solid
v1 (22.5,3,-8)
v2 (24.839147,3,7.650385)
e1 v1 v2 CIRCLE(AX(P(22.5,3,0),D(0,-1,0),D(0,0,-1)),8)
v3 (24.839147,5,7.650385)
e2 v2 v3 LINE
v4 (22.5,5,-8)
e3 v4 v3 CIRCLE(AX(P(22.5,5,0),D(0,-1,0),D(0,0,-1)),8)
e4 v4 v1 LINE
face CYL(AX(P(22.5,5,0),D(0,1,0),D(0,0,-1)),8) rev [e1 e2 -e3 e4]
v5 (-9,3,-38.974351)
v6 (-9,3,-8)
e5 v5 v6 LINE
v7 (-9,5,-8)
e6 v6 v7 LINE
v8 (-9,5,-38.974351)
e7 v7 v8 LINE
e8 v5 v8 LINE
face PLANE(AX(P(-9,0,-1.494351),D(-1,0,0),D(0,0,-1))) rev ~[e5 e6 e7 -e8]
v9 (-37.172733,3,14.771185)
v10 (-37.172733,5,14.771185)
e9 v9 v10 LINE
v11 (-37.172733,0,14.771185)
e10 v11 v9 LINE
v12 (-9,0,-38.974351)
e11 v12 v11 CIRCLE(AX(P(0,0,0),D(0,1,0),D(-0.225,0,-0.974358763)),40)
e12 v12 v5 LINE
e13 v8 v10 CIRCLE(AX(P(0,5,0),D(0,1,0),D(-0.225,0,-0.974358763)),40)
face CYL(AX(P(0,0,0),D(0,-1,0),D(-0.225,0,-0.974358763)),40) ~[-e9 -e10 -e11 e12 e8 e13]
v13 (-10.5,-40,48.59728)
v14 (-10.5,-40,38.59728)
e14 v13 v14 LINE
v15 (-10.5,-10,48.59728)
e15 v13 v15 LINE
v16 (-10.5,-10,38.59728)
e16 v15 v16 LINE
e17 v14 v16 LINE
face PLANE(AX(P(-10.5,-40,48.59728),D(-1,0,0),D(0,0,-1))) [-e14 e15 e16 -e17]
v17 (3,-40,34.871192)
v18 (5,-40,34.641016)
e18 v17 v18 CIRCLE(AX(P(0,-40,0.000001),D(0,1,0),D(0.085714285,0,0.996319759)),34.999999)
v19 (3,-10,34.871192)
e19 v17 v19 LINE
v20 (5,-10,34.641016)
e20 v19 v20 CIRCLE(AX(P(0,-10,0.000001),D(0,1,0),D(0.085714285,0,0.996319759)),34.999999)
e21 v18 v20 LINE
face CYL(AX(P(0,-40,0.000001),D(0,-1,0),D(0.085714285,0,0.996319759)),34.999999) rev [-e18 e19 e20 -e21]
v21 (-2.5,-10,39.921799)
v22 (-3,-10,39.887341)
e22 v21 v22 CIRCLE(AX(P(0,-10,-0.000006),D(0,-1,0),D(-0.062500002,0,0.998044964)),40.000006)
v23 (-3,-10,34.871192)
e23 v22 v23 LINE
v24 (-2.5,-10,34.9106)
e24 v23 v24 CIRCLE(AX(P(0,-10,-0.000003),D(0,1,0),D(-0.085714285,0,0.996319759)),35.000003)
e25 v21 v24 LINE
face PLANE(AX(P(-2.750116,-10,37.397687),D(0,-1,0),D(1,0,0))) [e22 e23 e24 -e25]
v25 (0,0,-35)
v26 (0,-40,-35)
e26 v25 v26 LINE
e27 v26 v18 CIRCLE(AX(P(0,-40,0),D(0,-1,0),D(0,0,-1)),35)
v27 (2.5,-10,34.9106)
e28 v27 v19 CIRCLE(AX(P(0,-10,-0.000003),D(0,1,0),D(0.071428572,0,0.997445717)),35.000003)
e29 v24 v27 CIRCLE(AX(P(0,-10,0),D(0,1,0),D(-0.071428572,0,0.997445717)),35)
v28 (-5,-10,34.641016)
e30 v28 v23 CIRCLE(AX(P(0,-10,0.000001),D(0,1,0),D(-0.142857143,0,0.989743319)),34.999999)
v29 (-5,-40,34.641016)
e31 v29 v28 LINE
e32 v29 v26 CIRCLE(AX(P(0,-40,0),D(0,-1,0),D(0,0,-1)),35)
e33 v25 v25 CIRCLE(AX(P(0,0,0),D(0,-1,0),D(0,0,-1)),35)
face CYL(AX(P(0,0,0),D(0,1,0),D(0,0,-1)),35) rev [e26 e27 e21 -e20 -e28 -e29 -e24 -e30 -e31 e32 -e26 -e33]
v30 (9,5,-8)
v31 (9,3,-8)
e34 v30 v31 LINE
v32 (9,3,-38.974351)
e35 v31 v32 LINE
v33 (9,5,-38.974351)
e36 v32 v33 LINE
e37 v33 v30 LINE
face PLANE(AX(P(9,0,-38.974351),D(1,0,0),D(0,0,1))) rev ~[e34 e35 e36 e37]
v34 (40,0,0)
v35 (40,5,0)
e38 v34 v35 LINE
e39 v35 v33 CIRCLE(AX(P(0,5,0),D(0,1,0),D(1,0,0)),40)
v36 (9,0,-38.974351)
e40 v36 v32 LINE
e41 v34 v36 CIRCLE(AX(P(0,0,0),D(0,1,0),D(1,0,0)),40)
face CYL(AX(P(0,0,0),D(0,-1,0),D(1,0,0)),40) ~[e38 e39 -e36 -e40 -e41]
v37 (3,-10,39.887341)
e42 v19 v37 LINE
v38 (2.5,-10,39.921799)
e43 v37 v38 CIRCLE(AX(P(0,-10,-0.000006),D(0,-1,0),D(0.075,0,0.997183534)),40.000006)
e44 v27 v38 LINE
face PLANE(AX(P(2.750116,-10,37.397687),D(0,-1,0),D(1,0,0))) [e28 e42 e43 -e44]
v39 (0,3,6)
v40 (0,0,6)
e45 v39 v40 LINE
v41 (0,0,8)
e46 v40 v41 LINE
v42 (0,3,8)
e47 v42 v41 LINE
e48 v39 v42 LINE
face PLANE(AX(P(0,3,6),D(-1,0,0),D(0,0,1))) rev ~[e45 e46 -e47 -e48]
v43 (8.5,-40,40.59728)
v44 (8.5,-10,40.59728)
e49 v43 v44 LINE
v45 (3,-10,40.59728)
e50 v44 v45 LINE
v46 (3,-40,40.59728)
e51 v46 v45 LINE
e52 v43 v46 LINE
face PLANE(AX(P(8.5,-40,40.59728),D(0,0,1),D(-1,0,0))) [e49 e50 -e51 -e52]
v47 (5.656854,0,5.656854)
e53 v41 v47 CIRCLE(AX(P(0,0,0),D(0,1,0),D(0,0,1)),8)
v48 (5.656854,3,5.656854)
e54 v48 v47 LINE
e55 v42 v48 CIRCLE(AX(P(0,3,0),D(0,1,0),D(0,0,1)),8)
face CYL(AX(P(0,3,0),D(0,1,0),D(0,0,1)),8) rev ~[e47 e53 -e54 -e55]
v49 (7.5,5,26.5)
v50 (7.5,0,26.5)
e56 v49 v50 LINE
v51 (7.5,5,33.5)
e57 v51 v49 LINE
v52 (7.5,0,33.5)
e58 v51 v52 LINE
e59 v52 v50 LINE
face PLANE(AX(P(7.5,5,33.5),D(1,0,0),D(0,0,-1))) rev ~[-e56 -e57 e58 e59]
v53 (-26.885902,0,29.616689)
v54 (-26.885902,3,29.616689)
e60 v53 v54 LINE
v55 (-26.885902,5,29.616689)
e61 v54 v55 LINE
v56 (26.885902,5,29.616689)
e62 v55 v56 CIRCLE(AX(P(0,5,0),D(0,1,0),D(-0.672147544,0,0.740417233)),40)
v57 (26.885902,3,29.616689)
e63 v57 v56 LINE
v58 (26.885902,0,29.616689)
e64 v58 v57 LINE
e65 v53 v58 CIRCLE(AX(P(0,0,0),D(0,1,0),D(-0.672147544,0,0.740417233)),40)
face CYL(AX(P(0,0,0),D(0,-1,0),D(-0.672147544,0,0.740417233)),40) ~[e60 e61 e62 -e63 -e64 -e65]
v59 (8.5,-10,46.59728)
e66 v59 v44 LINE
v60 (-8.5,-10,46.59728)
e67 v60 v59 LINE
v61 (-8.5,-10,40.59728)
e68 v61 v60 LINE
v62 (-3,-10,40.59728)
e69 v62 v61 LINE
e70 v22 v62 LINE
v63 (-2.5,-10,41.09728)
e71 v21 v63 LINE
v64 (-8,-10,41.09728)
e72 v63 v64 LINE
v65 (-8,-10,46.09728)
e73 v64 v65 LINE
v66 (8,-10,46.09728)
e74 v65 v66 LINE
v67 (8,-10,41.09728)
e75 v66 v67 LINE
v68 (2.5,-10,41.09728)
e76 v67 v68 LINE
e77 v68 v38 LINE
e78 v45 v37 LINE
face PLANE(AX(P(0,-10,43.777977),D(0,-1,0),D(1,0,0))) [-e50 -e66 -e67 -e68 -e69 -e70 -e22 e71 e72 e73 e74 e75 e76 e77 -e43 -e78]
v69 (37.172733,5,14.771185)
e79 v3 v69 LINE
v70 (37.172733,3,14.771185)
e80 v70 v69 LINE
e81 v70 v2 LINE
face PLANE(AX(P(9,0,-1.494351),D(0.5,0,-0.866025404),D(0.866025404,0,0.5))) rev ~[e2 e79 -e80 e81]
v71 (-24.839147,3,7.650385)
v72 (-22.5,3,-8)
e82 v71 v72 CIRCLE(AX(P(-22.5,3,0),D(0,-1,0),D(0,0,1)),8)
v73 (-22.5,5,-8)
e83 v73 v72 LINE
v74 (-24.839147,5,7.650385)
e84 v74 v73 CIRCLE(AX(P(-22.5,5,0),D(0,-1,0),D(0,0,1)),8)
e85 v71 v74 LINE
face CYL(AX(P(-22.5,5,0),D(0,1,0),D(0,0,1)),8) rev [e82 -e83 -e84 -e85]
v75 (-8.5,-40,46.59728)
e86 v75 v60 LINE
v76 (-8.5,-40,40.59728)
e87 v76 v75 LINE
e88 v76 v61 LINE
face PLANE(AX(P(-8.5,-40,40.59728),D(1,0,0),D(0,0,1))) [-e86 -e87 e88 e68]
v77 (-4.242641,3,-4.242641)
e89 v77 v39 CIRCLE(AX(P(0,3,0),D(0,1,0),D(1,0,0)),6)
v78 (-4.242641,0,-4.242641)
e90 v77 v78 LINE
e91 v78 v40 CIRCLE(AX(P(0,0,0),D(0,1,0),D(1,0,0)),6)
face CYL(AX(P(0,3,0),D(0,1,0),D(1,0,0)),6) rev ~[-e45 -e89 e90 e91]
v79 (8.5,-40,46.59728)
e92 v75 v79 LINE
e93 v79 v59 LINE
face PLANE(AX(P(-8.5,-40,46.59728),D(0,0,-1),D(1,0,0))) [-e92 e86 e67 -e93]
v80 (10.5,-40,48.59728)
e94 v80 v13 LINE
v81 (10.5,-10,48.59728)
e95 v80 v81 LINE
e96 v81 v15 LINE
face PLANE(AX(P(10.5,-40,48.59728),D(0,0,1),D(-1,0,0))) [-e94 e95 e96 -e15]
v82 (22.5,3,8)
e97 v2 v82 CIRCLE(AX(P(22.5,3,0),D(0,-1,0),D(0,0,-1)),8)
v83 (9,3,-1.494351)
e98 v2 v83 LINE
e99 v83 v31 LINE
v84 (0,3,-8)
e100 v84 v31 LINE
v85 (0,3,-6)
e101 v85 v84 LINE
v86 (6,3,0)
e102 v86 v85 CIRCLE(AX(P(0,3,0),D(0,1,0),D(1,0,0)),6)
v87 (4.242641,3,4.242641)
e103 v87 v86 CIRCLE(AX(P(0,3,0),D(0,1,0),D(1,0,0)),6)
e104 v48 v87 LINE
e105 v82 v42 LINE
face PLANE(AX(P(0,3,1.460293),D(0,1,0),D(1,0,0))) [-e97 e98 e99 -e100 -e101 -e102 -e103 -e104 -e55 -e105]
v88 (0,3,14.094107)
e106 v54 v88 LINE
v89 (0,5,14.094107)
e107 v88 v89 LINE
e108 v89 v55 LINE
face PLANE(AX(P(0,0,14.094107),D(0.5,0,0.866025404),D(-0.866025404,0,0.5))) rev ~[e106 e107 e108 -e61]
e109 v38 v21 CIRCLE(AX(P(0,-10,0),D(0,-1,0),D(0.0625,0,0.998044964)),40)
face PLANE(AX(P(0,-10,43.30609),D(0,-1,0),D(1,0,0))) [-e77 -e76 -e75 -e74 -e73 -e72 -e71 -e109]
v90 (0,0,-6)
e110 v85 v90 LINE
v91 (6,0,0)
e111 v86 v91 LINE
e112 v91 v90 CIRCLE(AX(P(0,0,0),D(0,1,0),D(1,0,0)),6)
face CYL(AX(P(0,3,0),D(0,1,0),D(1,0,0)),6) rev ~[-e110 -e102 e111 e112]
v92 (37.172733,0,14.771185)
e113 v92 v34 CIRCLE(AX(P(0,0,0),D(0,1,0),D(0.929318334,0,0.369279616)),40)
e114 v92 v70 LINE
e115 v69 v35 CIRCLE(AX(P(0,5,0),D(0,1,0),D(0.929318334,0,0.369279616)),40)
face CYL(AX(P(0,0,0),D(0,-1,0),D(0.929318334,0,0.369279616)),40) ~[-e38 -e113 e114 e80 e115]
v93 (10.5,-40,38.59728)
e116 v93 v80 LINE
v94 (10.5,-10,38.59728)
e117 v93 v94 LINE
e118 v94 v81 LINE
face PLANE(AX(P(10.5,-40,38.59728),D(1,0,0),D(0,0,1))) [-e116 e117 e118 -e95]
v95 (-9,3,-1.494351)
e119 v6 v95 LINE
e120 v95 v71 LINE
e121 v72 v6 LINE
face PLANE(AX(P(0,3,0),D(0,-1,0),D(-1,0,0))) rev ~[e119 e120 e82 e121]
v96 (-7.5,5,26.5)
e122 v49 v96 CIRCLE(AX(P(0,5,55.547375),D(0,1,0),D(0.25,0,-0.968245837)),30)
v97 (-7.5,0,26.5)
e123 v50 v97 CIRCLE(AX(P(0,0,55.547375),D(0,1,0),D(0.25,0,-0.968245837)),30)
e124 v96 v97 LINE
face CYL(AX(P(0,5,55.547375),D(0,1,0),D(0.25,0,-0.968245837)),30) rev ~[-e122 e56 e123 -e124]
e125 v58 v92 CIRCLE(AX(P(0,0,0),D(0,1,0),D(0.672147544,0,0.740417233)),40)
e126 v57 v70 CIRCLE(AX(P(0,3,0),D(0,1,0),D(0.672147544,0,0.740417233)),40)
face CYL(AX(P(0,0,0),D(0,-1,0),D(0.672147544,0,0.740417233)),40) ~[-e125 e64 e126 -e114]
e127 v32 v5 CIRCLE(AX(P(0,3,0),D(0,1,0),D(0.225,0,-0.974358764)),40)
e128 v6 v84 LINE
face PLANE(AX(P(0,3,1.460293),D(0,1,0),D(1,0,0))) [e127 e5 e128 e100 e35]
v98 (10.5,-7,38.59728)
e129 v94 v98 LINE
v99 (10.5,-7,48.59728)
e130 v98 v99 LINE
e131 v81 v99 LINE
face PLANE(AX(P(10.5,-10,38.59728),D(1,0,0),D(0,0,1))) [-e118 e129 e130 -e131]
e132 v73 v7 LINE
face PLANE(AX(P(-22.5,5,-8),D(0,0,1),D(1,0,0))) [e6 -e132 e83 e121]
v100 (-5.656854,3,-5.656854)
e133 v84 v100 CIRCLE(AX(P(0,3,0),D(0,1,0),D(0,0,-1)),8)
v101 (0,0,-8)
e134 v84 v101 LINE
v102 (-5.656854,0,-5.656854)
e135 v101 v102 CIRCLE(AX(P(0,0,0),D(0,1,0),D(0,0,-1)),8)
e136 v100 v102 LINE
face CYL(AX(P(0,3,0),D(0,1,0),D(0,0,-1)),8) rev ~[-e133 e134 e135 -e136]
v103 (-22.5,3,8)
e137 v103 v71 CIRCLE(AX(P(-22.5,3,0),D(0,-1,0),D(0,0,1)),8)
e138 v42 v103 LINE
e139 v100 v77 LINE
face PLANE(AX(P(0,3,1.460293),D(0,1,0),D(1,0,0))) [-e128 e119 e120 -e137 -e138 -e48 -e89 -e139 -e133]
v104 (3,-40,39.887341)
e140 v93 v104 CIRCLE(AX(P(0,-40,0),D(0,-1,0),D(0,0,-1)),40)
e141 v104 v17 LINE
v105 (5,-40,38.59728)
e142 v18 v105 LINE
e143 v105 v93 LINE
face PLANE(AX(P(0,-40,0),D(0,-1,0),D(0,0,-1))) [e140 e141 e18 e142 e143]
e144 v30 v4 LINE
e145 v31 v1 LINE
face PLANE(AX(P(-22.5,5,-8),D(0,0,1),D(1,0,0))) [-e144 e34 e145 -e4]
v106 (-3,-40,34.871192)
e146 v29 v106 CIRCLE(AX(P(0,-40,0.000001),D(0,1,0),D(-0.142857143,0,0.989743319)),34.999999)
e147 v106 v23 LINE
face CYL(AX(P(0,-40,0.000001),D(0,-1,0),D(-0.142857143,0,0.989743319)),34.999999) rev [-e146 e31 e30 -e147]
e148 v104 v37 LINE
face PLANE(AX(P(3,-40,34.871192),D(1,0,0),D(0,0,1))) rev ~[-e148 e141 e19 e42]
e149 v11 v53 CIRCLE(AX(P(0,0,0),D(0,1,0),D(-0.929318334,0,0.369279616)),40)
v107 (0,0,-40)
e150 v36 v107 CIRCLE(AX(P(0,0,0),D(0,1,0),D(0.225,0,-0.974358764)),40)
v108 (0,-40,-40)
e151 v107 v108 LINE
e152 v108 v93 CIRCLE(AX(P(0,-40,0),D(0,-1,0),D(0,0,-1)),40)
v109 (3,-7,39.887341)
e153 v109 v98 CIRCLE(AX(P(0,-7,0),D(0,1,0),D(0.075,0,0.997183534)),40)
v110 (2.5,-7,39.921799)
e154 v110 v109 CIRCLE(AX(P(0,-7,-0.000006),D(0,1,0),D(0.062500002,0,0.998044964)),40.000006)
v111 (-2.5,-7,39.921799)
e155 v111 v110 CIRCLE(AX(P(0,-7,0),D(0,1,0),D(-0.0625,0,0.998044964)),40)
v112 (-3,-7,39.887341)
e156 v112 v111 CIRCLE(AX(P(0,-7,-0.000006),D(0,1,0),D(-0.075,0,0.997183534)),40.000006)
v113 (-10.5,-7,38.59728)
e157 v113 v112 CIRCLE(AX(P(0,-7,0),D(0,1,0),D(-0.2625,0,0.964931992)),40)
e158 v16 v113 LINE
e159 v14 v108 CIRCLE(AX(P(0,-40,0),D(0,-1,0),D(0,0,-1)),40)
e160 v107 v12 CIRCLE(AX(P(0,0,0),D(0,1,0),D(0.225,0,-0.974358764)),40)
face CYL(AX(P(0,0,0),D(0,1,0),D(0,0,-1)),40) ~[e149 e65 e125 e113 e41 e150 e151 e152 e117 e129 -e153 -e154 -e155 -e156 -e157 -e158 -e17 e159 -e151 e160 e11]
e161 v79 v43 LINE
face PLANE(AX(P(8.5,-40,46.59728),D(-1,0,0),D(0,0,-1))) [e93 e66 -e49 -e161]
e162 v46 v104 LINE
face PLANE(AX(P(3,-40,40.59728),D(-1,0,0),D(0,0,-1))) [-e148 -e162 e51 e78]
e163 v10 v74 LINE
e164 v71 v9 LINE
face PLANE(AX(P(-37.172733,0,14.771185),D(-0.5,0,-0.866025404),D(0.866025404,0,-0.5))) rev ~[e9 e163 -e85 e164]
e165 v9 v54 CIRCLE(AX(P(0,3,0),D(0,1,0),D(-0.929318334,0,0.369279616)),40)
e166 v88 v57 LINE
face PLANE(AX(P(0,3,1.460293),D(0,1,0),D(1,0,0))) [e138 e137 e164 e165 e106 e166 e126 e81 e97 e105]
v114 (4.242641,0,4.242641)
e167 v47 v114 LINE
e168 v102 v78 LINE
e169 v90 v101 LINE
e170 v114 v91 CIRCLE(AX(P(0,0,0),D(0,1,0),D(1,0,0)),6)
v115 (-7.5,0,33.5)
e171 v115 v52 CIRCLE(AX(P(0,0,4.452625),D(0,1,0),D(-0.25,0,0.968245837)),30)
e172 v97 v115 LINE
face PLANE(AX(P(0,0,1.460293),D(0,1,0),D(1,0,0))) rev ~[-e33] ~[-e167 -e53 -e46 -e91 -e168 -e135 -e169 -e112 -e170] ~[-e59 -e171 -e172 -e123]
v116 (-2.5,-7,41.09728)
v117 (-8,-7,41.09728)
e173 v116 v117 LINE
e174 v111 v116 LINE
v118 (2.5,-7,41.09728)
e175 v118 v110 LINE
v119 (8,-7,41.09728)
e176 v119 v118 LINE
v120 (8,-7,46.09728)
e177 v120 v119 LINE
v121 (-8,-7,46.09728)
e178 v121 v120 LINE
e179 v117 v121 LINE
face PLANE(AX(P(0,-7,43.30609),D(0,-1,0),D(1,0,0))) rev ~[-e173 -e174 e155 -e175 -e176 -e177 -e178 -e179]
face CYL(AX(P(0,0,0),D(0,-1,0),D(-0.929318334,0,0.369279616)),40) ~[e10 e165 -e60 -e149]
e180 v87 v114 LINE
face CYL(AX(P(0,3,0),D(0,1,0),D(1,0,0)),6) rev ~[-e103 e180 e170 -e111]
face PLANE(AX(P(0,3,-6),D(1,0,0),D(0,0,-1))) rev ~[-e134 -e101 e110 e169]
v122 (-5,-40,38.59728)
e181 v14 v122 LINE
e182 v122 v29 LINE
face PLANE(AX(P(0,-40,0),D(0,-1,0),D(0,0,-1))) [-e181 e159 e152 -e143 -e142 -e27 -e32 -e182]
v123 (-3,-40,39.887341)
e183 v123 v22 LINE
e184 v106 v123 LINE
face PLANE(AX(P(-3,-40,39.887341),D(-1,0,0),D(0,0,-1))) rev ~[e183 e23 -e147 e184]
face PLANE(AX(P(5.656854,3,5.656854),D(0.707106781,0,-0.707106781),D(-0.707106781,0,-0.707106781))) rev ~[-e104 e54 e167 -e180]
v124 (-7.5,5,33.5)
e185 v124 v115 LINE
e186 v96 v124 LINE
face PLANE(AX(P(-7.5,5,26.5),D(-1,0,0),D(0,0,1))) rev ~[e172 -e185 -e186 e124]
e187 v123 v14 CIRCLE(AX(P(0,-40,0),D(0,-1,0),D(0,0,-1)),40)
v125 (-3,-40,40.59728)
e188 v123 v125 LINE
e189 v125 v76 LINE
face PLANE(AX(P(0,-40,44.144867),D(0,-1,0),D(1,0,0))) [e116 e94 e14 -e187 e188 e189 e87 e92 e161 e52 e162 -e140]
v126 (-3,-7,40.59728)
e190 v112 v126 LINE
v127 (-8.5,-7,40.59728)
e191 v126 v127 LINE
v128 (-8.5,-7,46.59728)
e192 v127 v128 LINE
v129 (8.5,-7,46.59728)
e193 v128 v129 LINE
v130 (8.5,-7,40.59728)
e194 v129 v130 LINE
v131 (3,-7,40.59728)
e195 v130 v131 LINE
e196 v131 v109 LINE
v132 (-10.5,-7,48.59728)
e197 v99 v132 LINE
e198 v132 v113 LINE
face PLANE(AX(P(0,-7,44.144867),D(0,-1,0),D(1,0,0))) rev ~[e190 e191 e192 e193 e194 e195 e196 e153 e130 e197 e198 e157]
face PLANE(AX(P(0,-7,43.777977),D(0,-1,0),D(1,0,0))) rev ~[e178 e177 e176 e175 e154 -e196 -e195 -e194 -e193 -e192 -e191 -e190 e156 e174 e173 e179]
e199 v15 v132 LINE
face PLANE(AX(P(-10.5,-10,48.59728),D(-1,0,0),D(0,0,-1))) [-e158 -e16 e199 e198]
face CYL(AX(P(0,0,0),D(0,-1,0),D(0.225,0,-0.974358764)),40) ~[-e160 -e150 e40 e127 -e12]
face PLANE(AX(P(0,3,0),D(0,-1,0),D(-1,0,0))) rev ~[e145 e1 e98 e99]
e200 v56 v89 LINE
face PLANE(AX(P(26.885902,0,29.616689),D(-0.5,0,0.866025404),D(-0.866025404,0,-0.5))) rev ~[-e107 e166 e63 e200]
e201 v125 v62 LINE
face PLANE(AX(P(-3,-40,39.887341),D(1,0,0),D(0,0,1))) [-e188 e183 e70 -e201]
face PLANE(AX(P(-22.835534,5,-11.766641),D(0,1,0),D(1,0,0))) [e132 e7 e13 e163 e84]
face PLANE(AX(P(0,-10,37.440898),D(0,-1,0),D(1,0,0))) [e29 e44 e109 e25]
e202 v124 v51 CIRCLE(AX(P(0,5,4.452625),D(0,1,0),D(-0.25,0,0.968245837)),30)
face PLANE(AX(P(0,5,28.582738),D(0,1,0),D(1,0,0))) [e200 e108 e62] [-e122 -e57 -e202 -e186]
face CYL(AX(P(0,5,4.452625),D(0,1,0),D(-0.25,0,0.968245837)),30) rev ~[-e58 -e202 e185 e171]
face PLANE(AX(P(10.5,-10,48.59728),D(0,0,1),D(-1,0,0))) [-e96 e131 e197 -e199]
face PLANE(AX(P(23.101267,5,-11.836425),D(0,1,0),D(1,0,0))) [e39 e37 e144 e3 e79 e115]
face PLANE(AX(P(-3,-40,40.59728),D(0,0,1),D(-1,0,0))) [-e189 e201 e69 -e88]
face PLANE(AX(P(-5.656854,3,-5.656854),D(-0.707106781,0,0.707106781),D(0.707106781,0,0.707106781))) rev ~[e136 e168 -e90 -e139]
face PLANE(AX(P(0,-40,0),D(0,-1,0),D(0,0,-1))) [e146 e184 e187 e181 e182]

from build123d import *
from build123d.topology import SkipClean

# Parameters (mm, degrees)
BOSS_EXTRUDE1_DEPTH     = 5
BOSS_EXTRUDE1_2_DEPTH   = 5
BOSS_EXTRUDE1_3_DEPTH   = 5
BOSS_EXTRUDE2_DEPTH     = 3
SKETCH2_R               = 40
SKETCH2_R_2             = 35
BOSS_EXTRUDE3_DEPTH     = 40
CUT_EXTRUDE1_DEPTH      = 1
CUT_EXTRUDE1_DEPTH_BACK = 46
SKETCH5_R               = 6
CUT_EXTRUDE4_DEPTH      = 3
CUT_EXTRUDE4_DEPTH_BACK = 44
CUT_EXTRUDE6_DEPTH      = 2
BOSS_EXTRUDE6_DEPTH     = 30
CUT_EXTRUDE7_DEPTH      = 30
BOSS_EXTRUDE7_START     = -30
BOSS_EXTRUDE7_DEPTH     = 3


with BuildPart() as part:
    # Sketch1 → Boss-Extrude1 (new body)
    with BuildSketch(Plane(origin=(0, 0, 0), x_dir=(1, 0, 0), z_dir=(0, 1, 0))):
        with BuildLine():
            ThreePointArc((-26.885901745, -29.616689338), (0, -40), (26.885901745, -29.616689338))
            Line((26.885901745, -29.616689338), (0, -14.094106728))
            Line((0, -14.094106728), (-26.885901745, -29.616689338))
        make_face()
    extrude(amount=BOSS_EXTRUDE1_DEPTH)



with BuildPart() as body_2:
    # Sketch1 → Boss-Extrude1 2 (new body)
    with BuildSketch(Plane(origin=(0, 0, 0), x_dir=(1, 0, 0), z_dir=(0, 1, 0))):
        with BuildLine():
            ThreePointArc((-9, 38.97435054), (-35.427756972, 18.570784472), (-37.172733345, -14.771184641))
            Line((-37.172733345, -14.771184641), (-9, 1.49435054))
            Line((-9, 1.49435054), (-9, 38.97435054))
        make_face()
    extrude(amount=BOSS_EXTRUDE1_2_DEPTH)


with BuildPart() as body_3:
    # Sketch1 → Boss-Extrude1 3 (new body)
    with BuildSketch(Plane(origin=(0, 0, 0), x_dir=(1, 0, 0), z_dir=(0, 1, 0))):
        with BuildLine():
            Line((9, 1.49435054), (37.172733345, -14.771184641))
            ThreePointArc((37.172733345, -14.771184641), (39.286825615, -7.519663098), (40, 0))
            ThreePointArc((40, 0), (31.304951685, 24.899799196), (9, 38.97435054))
            Line((9, 38.97435054), (9, 1.49435054))
        make_face()
    extrude(amount=BOSS_EXTRUDE1_3_DEPTH)


with BuildPart() as part_1:
    add(part.part)

    add(body_2.part)  # Boss-Extrude2 merges body 2

    add(body_3.part)  # Boss-Extrude2 merges body 3
    # Sketch1_3 → Boss-Extrude2 (add)
    with BuildSketch(Plane(origin=(0, 0, 0), x_dir=(1, 0, 0), z_dir=(0, 1, 0))):
        with BuildLine():
            Line((0, -14.094106728), (26.885901745, -29.616689338))
            ThreePointArc((26.885901745, -29.616689338), (32.878175661, -22.782132586), (37.172733345, -14.771184641))
            Line((37.172733345, -14.771184641), (9, 1.49435054))
            Line((9, 1.49435054), (9, 38.97435054))
            ThreePointArc((9, 38.97435054), (0, 40), (-9, 38.97435054))
            Line((-9, 38.97435054), (-9, 1.49435054))
            Line((-9, 1.49435054), (-37.172733345, -14.771184641))
            ThreePointArc((-37.172733345, -14.771184641), (-32.878175661, -22.782132586), (-26.885901745, -29.616689338))
            Line((-26.885901745, -29.616689338), (0, -14.094106728))
        make_face()
    extrude(amount=BOSS_EXTRUDE2_DEPTH)

    # Sketch2 → Boss-Extrude3 (add)
    with SkipClean():  # keep this step's faces unmerged: merging them makes the solid invalid here
        with BuildSketch(Plane.XZ):
            with Locations(Location((0, 0, 0), (0, 0, 270))):  # turned: the seam where the file's is
                Circle(SKETCH2_R)
            with Locations(Location((0, 0, 0), (0, 0, 270))):  # turned: the seam where the file's is
                Circle(SKETCH2_R_2, mode=Mode.SUBTRACT)
        extrude(amount=BOSS_EXTRUDE3_DEPTH)

    # Sketch3 → Cut-Extrude1 (cut, two sides)
    with SkipClean():  # keep this step's faces unmerged: merging them makes the solid invalid here
        with BuildSketch(Plane(origin=(0, 5, 0), x_dir=(1, 0, 0), z_dir=(0, 1, 0))) as cut_extrude1_sk:
            with BuildLine():
                Line((-7.5, -26.5), (-7.5, -33.5))
                ThreePointArc((-7.5, -33.5), (0, -34.452624903), (7.5, -33.5))
                Line((7.5, -33.5), (7.5, -26.5))
                ThreePointArc((7.5, -26.5), (0, -25.547375097), (-7.5, -26.5))
            make_face()
        extrude(amount=CUT_EXTRUDE1_DEPTH, mode=Mode.SUBTRACT)
        extrude(cut_extrude1_sk.sketch, amount=-CUT_EXTRUDE1_DEPTH_BACK, mode=Mode.SUBTRACT)

    # Sketch5 → Cut-Extrude4 (cut, two sides)
    with SkipClean():  # keep this step's faces unmerged: merging them makes the solid invalid here
        with BuildSketch(Plane(origin=(0, 3, 0), x_dir=(1, 0, 0), z_dir=(0, 1, 0))) as cut_extrude4_sk:
            Circle(SKETCH5_R)
            with BuildLine():
                ThreePointArc((-4.242640687, 4.242640687), (-2.296100594, 5.543277195), (0, 6))
                Line((0, 6), (0, 8))
                ThreePointArc((0, 8), (-3.061467459, 7.39103626), (-5.656854249, 5.656854249))
                Line((-5.656854249, 5.656854249), (-4.242640687, 4.242640687))
            make_face()
            with BuildLine():
                Line((5.656854249, -5.656854249), (4.242640687, -4.242640687))
                ThreePointArc((4.242640687, -4.242640687), (2.296100594, -5.543277195), (0, -6))
                Line((0, -6), (0, -8))
                ThreePointArc((0, -8), (3.061467459, -7.39103626), (5.656854249, -5.656854249))
            make_face()
        extrude(amount=CUT_EXTRUDE4_DEPTH, mode=Mode.SUBTRACT)
        extrude(cut_extrude4_sk.sketch, amount=-CUT_EXTRUDE4_DEPTH_BACK, mode=Mode.SUBTRACT)

    # Sketch17 → Cut-Extrude6 (cut)
    with SkipClean():  # keep this step's faces unmerged: merging them makes the solid invalid here
        with BuildSketch(Plane(origin=(0, 5, 0), x_dir=(1, 0, 0), z_dir=(0, 1, 0))):
            with BuildLine():
                Line((-22.5, 8), (22.5, 8))
                ThreePointArc((22.5, 8), (30.5, 0), (22.5, -8))
                Line((22.5, -8), (-22.5, -8))
                ThreePointArc((-22.5, -8), (-30.5, 0), (-22.5, 8))
            make_face()
        extrude(amount=-CUT_EXTRUDE6_DEPTH, mode=Mode.SUBTRACT)

    # Sketch19 → Boss-Extrude6 (add)
    with SkipClean():  # keep this step's faces unmerged: merging them makes the solid invalid here
        with BuildSketch(Plane.XZ.offset(40)):
            with BuildLine():
                Line((-10.5, 48.597279697), (-10.5, 38.597279697))
                ThreePointArc((-10.5, 38.597279697), (-6.780749573, 39.421078565), (-3, 39.88734135))
                Line((-3, 39.88734135), (-3, 40.597279697))
                Line((-3, 40.597279697), (-8.5, 40.597279697))
                Line((-8.5, 40.597279697), (-8.5, 46.597279697))
                Line((-8.5, 46.597279697), (8.5, 46.597279697))
                Line((8.5, 46.597279697), (8.5, 40.597279697))
                Line((8.5, 40.597279697), (3, 40.597279697))
                Line((3, 40.597279697), (3, 39.88734135))
                ThreePointArc((3, 39.88734135), (6.780749573, 39.421078565), (10.5, 38.597279697))
                Line((10.5, 38.597279697), (10.5, 48.597279697))
                Line((10.5, 48.597279697), (-10.5, 48.597279697))
            make_face()
            with BuildLine():
                ThreePointArc((-3, 39.88734135), (-6.780749573, 39.421078565), (-10.5, 38.597279697))
                Line((-10.5, 38.597279697), (-5, 38.597279697))
                Line((-5, 38.597279697), (-5, 34.641016151))
                ThreePointArc((-5, 34.641016151), (-4.001655305, 34.770486836), (-3, 34.871191548))
                Line((-3, 34.871191548), (-3, 39.88734135))
            make_face()
            with BuildLine():
                Line((5, 38.597279697), (10.5, 38.597279697))
                ThreePointArc((10.5, 38.597279697), (6.780749573, 39.421078565), (3, 39.88734135))
                Line((3, 39.88734135), (3, 34.871191548))
                ThreePointArc((3, 34.871191548), (4.001655305, 34.770486836), (5, 34.641016151))
                Line((5, 34.641016151), (5, 38.597279697))
            make_face()
        extrude(amount=-BOSS_EXTRUDE6_DEPTH)

    # Sketch19_3 → Cut-Extrude7 (cut)
    with SkipClean():  # keep this step's faces unmerged: merging them makes the solid invalid here
        with BuildSketch(Plane.XZ.offset(40)):
            with BuildLine():
                ThreePointArc((2.5, 39.921798557), (0, 40), (-2.5, 39.921798557))
                Line((-2.5, 39.921798557), (-2.5, 34.910600109))
                ThreePointArc((-2.5, 34.910600109), (0, 35), (2.5, 34.910600109))
                Line((2.5, 34.910600109), (2.5, 39.921798557))
            make_face()
            with BuildLine():
                ThreePointArc((-2.5, 39.921798557), (-2.750053968, 39.905353064), (-3, 39.88734135))
                Line((-3, 39.88734135), (-3, 34.871191548))
                ThreePointArc((-3, 34.871191548), (-2.750070592, 34.891791466), (-2.5, 34.910600109))
                Line((-2.5, 34.910600109), (-2.5, 39.921798557))
            make_face()
            with BuildLine():
                ThreePointArc((3, 39.88734135), (2.750053968, 39.905353064), (2.5, 39.921798557))
                Line((2.5, 39.921798557), (2.5, 34.910600109))
                ThreePointArc((2.5, 34.910600109), (2.750070592, 34.891791466), (3, 34.871191548))
                Line((3, 34.871191548), (3, 39.88734135))
            make_face()
        extrude(amount=-CUT_EXTRUDE7_DEPTH, mode=Mode.SUBTRACT)

    # Sketch19_4 → Boss-Extrude7 (add)
    with SkipClean():  # keep this step's faces unmerged: merging them makes the solid invalid here
        with BuildSketch(Plane.XZ.offset(40).offset(BOSS_EXTRUDE7_START)):
            with BuildLine():
                Line((-10.5, 48.597279697), (-10.5, 38.597279697))
                ThreePointArc((-10.5, 38.597279697), (-6.780749573, 39.421078565), (-3, 39.88734135))
                Line((-3, 39.88734135), (-3, 40.597279697))
                Line((-3, 40.597279697), (-8.5, 40.597279697))
                Line((-8.5, 40.597279697), (-8.5, 46.597279697))
                Line((-8.5, 46.597279697), (8.5, 46.597279697))
                Line((8.5, 46.597279697), (8.5, 40.597279697))
                Line((8.5, 40.597279697), (3, 40.597279697))
                Line((3, 40.597279697), (3, 39.88734135))
                ThreePointArc((3, 39.88734135), (6.780749573, 39.421078565), (10.5, 38.597279697))
                Line((10.5, 38.597279697), (10.5, 48.597279697))
                Line((10.5, 48.597279697), (-10.5, 48.597279697))
            make_face()
            with BuildLine():
                Line((-3, 40.597279697), (-3, 39.88734135))
                ThreePointArc((-3, 39.88734135), (-2.750053968, 39.905353064), (-2.5, 39.921798557))
                Line((-2.5, 39.921798557), (-2.5, 41.097279697))
                Line((-2.5, 41.097279697), (-8, 41.097279697))
                Line((-8, 41.097279697), (-8, 46.097279697))
                Line((-8, 46.097279697), (8, 46.097279697))
                Line((8, 46.097279697), (8, 41.097279697))
                Line((8, 41.097279697), (2.5, 41.097279697))
                Line((2.5, 41.097279697), (2.5, 39.921798557))
                ThreePointArc((2.5, 39.921798557), (2.750053968, 39.905353064), (3, 39.88734135))
                Line((3, 39.88734135), (3, 40.597279697))
                Line((3, 40.597279697), (8.5, 40.597279697))
                Line((8.5, 40.597279697), (8.5, 46.597279697))
                Line((8.5, 46.597279697), (-8.5, 46.597279697))
                Line((-8.5, 46.597279697), (-8.5, 40.597279697))
                Line((-8.5, 40.597279697), (-3, 40.597279697))
            make_face()
            with BuildLine():
                Line((-2.5, 41.097279697), (-2.5, 39.921798557))
                ThreePointArc((-2.5, 39.921798557), (0, 40), (2.5, 39.921798557))
                Line((2.5, 39.921798557), (2.5, 41.097279697))
                Line((2.5, 41.097279697), (8, 41.097279697))
                Line((8, 41.097279697), (8, 46.097279697))
                Line((8, 46.097279697), (-8, 46.097279697))
                Line((-8, 46.097279697), (-8, 41.097279697))
                Line((-8, 41.097279697), (-2.5, 41.097279697))
            make_face()
        extrude(amount=-BOSS_EXTRUDE7_DEPTH)


solid = part_1.part
